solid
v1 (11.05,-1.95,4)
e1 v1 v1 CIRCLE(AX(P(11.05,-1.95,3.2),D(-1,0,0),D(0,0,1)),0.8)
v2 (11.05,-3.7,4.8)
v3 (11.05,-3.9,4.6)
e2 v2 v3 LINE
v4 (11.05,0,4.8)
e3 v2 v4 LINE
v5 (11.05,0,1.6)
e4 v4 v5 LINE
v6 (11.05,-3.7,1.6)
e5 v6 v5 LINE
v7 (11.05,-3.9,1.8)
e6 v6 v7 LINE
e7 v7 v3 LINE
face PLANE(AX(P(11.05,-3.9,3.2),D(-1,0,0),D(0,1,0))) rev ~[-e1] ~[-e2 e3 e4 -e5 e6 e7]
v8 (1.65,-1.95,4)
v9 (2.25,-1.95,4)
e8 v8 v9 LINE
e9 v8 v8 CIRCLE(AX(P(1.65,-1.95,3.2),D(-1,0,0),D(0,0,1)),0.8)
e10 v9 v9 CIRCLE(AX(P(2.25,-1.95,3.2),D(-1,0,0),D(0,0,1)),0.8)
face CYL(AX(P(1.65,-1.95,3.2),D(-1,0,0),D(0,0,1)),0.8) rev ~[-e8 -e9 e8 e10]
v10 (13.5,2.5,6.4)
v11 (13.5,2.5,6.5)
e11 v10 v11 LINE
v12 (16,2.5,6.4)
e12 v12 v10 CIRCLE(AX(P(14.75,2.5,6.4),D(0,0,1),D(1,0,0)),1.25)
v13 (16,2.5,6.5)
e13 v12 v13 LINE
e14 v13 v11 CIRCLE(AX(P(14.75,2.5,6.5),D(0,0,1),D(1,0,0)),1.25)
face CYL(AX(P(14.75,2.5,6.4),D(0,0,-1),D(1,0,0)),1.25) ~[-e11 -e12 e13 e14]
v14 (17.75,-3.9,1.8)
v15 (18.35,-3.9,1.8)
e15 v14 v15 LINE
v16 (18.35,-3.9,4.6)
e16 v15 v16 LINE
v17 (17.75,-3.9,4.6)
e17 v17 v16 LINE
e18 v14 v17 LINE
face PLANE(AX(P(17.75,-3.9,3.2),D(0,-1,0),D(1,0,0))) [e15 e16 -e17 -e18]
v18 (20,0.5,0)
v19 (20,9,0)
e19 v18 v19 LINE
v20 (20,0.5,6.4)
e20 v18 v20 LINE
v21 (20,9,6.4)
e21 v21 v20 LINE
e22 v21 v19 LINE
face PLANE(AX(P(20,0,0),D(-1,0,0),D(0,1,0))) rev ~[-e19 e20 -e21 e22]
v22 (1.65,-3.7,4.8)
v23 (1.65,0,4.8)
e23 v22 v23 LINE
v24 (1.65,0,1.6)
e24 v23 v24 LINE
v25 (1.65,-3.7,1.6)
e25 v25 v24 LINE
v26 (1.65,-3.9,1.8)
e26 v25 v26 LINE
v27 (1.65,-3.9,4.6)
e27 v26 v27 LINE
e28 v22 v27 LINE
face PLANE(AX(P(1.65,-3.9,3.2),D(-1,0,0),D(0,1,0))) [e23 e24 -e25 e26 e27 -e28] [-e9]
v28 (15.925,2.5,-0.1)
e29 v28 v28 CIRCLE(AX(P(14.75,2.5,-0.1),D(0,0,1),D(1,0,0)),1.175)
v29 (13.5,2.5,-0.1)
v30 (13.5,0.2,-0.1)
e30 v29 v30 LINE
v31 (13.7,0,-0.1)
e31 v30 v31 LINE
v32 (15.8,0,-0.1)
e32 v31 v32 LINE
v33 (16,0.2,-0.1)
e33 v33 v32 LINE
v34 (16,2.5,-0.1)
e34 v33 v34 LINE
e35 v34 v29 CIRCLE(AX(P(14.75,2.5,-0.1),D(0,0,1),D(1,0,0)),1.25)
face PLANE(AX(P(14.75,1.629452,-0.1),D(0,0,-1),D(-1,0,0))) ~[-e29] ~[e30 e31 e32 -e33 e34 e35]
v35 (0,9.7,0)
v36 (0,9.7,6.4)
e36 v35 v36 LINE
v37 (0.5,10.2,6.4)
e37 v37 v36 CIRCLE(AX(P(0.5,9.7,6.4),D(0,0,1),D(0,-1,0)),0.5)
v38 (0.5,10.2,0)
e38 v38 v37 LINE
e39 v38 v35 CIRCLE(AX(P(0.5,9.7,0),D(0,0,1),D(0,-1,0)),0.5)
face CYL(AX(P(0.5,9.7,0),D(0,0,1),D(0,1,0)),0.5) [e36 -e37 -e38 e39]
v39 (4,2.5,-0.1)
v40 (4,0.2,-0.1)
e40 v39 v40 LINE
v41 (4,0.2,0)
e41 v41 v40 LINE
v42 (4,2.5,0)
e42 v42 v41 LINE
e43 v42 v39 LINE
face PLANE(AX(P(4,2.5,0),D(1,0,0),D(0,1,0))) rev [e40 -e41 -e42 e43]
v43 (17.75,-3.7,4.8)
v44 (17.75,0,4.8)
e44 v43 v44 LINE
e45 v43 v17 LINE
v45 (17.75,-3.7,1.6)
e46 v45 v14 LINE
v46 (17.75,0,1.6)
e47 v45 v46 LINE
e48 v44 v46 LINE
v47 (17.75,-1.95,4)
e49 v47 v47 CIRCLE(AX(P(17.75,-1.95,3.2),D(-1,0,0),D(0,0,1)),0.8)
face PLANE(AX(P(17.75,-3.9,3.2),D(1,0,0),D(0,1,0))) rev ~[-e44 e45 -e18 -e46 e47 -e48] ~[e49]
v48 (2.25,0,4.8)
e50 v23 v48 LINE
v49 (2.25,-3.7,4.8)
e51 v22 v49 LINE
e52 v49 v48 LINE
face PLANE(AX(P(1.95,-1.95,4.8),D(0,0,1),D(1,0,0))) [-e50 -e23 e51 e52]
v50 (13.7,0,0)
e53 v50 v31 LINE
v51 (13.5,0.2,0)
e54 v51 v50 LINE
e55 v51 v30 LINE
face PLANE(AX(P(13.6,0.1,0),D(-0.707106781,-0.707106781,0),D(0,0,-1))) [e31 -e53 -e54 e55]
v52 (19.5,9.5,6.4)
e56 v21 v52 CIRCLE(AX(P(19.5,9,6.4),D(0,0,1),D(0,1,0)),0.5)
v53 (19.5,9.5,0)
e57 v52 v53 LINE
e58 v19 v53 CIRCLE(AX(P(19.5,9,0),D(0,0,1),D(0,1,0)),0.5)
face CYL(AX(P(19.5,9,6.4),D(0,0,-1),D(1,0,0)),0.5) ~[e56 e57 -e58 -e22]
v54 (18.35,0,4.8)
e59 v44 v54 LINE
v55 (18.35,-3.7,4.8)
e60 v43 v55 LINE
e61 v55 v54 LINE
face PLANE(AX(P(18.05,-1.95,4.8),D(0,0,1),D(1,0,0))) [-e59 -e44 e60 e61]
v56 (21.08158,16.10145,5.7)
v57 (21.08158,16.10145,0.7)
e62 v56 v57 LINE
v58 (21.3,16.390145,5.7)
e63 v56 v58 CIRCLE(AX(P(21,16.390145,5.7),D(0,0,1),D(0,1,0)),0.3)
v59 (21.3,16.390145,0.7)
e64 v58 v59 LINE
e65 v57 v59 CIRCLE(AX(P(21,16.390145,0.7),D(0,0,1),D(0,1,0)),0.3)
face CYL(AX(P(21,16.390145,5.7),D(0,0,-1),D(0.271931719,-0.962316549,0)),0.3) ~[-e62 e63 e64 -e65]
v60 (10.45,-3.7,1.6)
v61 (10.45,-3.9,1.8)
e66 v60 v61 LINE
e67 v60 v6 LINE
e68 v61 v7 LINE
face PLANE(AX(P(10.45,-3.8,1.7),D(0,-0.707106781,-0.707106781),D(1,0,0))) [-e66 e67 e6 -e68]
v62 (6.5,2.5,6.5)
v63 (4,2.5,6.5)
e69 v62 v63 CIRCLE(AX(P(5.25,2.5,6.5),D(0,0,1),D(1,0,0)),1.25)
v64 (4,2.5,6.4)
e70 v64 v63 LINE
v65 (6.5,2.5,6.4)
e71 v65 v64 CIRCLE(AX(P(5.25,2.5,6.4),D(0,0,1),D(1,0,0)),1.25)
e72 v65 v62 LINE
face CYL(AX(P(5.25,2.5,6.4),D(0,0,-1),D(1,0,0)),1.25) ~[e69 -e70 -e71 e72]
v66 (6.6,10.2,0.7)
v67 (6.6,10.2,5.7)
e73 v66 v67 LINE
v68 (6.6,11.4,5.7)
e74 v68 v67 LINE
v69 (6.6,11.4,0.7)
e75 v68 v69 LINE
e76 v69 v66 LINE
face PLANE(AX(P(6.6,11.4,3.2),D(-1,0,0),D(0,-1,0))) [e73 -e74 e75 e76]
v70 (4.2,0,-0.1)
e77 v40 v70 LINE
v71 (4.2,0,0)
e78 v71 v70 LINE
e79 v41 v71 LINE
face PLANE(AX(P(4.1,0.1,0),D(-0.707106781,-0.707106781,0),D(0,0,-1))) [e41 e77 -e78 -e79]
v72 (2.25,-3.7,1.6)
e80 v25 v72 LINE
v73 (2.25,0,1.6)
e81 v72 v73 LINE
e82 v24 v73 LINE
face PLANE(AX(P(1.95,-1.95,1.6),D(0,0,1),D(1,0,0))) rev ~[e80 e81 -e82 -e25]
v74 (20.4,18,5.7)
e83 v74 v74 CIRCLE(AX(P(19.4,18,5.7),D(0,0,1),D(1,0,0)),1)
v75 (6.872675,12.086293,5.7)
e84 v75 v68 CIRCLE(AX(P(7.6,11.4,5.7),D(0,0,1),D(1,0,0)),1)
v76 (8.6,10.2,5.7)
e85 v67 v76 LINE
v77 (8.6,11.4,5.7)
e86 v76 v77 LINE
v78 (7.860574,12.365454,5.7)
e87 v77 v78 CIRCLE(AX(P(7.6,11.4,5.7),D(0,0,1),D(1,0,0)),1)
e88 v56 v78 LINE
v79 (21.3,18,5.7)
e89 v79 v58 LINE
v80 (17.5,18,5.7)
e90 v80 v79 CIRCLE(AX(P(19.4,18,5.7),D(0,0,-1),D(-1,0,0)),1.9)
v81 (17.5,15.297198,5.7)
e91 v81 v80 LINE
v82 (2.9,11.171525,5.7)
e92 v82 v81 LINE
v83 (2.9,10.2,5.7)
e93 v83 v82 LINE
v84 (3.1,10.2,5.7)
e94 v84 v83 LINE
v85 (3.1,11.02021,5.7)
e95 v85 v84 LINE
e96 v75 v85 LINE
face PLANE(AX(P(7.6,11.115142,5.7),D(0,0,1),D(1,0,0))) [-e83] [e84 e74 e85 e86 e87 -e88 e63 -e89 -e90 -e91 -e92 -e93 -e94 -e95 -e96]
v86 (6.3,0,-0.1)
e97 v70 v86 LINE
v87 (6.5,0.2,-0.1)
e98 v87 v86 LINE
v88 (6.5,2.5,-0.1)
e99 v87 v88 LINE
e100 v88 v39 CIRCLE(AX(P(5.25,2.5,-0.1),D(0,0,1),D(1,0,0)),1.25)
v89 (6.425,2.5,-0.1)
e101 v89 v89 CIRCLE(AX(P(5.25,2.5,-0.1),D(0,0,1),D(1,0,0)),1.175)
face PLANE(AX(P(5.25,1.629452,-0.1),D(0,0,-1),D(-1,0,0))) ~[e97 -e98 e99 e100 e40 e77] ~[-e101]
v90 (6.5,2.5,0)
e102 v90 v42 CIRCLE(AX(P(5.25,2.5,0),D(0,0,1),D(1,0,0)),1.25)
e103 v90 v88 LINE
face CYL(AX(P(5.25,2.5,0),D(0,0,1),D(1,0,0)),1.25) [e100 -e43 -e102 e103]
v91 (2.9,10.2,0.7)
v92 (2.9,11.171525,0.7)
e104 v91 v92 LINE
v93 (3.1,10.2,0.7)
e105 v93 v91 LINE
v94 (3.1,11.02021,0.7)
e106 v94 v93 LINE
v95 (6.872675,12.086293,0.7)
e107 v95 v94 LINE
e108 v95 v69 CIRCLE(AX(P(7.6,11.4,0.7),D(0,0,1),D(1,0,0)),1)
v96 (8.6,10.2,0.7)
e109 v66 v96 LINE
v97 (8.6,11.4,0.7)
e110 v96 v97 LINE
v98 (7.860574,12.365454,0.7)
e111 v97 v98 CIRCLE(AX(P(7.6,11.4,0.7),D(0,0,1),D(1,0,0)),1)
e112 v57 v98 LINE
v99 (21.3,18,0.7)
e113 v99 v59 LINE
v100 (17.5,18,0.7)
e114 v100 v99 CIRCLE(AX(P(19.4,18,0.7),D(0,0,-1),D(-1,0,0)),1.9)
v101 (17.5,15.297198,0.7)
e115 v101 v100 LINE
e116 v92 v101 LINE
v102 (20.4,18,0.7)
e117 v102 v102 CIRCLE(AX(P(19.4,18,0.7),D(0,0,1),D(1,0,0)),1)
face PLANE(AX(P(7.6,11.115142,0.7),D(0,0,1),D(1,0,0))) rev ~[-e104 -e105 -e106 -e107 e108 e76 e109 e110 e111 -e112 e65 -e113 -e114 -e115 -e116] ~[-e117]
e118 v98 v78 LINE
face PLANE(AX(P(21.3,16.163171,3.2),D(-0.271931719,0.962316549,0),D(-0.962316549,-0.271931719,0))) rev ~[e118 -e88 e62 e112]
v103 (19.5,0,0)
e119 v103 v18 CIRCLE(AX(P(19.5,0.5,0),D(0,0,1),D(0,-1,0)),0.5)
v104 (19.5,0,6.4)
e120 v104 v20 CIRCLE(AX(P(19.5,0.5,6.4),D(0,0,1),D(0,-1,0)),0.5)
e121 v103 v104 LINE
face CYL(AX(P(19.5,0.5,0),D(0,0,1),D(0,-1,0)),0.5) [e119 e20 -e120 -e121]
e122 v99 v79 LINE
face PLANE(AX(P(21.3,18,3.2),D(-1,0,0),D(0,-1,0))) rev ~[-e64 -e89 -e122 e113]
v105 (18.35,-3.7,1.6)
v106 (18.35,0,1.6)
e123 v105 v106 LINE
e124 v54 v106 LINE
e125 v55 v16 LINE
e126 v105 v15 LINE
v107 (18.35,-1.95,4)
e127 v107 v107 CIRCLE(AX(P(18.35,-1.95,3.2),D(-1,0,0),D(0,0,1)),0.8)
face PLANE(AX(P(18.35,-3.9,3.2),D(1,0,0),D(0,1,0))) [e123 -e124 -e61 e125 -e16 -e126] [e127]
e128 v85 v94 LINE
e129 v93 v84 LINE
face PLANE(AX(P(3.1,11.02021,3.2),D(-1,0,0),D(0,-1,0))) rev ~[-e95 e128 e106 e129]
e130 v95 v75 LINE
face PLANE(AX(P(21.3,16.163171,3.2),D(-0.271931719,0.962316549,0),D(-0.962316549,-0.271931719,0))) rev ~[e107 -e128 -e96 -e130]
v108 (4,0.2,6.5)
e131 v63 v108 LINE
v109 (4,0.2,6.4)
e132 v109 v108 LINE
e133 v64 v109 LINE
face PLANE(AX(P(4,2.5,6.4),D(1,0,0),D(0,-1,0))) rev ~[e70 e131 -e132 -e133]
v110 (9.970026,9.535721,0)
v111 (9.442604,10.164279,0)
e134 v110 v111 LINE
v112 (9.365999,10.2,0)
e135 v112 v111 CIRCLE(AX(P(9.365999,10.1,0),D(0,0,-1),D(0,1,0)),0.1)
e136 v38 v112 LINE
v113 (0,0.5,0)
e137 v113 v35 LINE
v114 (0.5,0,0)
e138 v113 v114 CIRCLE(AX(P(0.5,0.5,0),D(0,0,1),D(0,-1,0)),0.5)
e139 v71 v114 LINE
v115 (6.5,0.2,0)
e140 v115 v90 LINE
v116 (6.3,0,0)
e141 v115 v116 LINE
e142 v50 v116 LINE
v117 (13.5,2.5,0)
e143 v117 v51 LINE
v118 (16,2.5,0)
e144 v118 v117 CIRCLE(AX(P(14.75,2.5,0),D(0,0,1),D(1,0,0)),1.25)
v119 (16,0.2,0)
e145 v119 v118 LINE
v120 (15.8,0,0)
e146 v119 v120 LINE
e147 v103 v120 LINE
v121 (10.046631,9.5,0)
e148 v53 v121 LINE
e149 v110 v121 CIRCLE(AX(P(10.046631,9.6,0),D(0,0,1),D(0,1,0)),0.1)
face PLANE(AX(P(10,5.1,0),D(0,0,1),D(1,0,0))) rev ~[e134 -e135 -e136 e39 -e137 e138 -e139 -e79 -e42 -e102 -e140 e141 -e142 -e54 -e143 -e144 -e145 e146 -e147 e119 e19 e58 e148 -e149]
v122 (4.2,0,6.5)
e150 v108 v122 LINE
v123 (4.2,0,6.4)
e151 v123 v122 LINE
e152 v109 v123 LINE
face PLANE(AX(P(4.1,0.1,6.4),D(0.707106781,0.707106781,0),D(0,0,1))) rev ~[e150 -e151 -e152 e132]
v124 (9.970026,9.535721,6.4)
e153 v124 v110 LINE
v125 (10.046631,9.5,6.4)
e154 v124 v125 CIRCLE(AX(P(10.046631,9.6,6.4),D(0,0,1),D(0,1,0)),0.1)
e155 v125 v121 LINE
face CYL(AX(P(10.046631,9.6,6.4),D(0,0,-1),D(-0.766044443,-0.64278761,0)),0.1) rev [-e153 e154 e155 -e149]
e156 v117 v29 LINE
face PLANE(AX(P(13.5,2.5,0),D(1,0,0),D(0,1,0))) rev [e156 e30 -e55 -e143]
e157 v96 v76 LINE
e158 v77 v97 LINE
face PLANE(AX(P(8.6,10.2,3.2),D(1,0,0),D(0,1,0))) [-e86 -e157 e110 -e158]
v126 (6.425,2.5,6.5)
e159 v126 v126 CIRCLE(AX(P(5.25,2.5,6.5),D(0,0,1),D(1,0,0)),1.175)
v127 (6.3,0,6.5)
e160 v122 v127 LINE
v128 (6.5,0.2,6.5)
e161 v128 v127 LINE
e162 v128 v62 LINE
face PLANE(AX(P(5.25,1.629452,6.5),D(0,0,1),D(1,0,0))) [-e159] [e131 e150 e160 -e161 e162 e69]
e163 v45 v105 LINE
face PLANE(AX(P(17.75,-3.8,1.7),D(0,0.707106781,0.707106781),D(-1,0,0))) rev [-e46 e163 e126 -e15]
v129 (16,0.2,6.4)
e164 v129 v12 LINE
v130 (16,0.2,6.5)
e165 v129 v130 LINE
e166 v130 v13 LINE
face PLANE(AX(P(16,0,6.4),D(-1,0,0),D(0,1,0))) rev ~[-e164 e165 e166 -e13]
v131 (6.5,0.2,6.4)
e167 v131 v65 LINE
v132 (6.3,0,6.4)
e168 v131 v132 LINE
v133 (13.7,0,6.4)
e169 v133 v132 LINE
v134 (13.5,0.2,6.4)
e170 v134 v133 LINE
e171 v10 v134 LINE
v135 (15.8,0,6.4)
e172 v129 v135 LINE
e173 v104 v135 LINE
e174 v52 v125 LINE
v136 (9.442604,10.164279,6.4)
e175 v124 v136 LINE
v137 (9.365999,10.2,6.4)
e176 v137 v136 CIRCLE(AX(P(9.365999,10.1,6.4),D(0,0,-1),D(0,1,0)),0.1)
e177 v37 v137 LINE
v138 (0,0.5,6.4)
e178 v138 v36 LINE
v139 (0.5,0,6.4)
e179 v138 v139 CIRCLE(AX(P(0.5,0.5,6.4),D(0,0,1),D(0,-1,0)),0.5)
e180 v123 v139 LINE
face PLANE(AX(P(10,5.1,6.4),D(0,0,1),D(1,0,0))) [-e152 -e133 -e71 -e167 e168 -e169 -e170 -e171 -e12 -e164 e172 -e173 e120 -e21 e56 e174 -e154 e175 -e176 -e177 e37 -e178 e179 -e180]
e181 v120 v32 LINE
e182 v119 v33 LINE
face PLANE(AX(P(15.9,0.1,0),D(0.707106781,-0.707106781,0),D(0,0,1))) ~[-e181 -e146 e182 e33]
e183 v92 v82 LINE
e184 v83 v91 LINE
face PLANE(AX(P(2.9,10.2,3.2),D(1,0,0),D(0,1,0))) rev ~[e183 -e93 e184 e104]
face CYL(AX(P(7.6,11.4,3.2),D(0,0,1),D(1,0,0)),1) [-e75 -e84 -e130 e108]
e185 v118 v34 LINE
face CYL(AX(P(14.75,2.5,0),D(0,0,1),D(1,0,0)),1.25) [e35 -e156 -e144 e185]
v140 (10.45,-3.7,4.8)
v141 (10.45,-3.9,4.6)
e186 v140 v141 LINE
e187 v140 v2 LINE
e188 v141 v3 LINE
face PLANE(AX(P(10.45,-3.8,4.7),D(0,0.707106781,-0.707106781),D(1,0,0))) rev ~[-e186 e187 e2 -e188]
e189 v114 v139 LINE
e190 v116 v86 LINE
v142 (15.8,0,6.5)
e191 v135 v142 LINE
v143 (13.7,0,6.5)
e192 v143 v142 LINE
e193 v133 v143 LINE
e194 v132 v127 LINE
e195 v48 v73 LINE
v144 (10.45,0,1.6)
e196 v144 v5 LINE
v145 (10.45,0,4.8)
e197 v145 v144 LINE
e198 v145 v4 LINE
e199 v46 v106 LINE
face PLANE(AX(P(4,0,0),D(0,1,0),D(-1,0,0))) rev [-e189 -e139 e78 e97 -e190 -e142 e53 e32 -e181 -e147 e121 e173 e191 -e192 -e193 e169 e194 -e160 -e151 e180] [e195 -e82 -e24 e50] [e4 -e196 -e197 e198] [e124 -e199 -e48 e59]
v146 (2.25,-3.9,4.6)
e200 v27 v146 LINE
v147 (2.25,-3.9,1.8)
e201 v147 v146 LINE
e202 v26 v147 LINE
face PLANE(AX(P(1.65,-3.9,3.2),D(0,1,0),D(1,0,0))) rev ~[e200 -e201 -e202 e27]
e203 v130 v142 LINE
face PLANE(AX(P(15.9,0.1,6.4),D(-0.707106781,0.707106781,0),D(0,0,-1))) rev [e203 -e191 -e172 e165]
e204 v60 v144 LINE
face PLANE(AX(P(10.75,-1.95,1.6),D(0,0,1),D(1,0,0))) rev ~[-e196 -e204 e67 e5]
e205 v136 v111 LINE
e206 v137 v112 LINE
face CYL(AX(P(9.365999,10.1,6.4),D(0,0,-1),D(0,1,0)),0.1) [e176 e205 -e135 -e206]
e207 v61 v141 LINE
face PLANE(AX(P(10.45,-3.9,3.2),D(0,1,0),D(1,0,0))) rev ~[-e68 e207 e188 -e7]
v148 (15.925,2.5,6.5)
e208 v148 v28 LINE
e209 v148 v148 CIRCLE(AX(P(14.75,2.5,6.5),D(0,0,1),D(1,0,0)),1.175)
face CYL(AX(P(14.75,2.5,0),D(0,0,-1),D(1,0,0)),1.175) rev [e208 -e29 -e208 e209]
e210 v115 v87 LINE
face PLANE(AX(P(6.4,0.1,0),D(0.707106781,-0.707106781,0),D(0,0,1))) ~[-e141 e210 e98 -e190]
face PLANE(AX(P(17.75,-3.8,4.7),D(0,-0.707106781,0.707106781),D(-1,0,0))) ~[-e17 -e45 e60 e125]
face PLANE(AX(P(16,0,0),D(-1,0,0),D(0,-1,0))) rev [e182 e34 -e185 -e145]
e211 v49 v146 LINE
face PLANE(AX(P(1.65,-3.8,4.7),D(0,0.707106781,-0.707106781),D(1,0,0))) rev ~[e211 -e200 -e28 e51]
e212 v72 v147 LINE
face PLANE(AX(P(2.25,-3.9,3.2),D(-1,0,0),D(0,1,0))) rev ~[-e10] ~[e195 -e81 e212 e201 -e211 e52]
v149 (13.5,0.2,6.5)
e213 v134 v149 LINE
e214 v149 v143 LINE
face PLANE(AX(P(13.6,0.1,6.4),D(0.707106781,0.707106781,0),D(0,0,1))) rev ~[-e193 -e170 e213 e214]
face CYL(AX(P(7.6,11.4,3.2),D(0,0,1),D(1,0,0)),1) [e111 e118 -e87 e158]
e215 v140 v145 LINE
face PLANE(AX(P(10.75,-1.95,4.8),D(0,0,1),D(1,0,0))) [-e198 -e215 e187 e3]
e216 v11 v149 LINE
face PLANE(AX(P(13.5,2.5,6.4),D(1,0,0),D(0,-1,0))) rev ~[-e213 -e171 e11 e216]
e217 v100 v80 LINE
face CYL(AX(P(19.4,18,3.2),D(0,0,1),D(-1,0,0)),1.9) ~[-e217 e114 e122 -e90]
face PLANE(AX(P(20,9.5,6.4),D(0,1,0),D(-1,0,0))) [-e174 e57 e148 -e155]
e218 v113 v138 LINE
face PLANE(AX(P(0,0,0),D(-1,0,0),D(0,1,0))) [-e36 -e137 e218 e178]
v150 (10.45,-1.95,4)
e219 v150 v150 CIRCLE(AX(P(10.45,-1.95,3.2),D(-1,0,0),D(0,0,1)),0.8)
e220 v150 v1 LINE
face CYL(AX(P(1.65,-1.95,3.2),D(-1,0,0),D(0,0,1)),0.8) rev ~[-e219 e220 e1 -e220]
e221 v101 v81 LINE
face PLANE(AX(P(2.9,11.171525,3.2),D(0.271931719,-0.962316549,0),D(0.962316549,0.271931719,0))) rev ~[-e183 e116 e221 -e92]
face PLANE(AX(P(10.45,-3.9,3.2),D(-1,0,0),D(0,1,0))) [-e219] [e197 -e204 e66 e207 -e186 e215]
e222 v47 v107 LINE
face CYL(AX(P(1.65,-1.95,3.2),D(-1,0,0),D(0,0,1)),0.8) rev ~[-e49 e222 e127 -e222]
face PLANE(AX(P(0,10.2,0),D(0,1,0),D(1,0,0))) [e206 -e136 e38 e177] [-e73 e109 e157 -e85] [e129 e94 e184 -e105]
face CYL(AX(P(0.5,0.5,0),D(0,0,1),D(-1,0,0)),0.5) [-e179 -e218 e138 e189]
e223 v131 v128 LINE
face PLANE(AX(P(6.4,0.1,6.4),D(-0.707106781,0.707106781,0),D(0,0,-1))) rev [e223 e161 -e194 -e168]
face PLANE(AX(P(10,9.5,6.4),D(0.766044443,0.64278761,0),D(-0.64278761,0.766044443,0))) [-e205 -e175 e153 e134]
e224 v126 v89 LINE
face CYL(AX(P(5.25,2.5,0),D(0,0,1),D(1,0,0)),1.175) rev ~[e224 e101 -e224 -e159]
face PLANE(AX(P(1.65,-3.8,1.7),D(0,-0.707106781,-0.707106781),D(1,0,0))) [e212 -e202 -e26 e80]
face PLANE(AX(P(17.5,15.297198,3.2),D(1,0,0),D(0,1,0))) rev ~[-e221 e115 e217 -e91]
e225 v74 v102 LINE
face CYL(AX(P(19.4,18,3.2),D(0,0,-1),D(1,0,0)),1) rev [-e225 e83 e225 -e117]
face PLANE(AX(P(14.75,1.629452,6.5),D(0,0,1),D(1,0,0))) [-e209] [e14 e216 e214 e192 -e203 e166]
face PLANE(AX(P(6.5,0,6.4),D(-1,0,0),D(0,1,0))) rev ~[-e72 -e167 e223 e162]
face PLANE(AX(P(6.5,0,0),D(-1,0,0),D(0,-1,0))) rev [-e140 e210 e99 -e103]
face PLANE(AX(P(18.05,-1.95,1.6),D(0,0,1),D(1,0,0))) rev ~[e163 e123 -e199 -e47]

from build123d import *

# Parameters (mm, degrees)
SKETCH_1_W               = 20
SKETCH_1_H               = 10.2
SKETCH_1_R               = 1.175
EXTRUDE_1_DEPTH          = 6.4
CUT_EXTRUDE_1_DEPTH      = 1
CUT_EXTRUDE_1_DEPTH_BACK = 7.4
FILLET_1_R               = 0.1
FILLET_2_R               = 0.5
SKETCH_8_R               = 1.175
EXTRUDE_5_DEPTH          = 0.1
CHAMFER_1_SIZE           = 0.2
SKETCH_3_W               = 0.6
SKETCH_3_H               = 3.9
EXTRUDE_2_DEPTH          = 1.6
SKETCH_9_R               = 0.8
CUT_EXTRUDE_2_DEPTH      = 19.35
CHAMFER_2_SIZE           = 0.2
SKETCH_5_R               = 1
EXTRUDE_3_DEPTH          = 2.5
EXTRUDE_6_DEPTH          = 2.5
FILLET_3_R               = 0.3


with BuildPart() as part:
    # 草图1 → 凸台-拉伸1 (new body)
    with BuildSketch(Plane.XY):
        with Locations((10, 5.1)):
            Rectangle(SKETCH_1_W, SKETCH_1_H)
        with Locations((5.25, 2.5)):
            Circle(SKETCH_1_R, mode=Mode.SUBTRACT)
        with Locations((14.75, 2.5)):
            Circle(SKETCH_1_R, mode=Mode.SUBTRACT)
    extrude(amount=EXTRUDE_1_DEPTH)

    # 草图7 → 切除-拉伸1 (cut, two sides)
    with BuildSketch(Plane.XY.offset(6.4)) as cut_extrude_1_sk:
        Polygon((20, 9.5), (10, 9.5), (9.412630258, 10.2), (20, 10.2), align=None)
    extrude(amount=CUT_EXTRUDE_1_DEPTH, mode=Mode.SUBTRACT)
    extrude(cut_extrude_1_sk.sketch, amount=-CUT_EXTRUDE_1_DEPTH_BACK, mode=Mode.SUBTRACT)

    # 圆角1
    fillet_1_edges = [part.edges().sort_by_distance(p)[0] for p in [
        (9.412630258, 10.2, 3.2),
        (10, 9.5, 3.2),
    ]]
    fillet(fillet_1_edges, radius=FILLET_1_R)

    # 圆角2
    fillet_2_edges = [part.edges().sort_by_distance(p)[0] for p in [
        (20, 9.5, 3.2),
        (0, 10.2, 3.2),
        (20, 0, 3.2),
        (0, 0, 3.2),
    ]]
    fillet(fillet_2_edges, radius=FILLET_2_R)

    # 草图8 → 凸台-拉伸5 (add)
    with BuildSketch(Plane.XY.offset(6.4)):
        with BuildLine():
            Line((4, 2.5), (4, 0))
            Line((4, 0), (6.5, 0))
            Line((6.5, 0), (6.5, 2.5))
            ThreePointArc((6.5, 2.5), (5.25, 3.75), (4, 2.5))
        make_face()
        with Locations((5.25, 2.5)):
            Circle(SKETCH_8_R, mode=Mode.SUBTRACT)
        with BuildLine():
            Line((13.5, 2.5), (13.5, 0))
            Line((13.5, 0), (16, 0))
            Line((16, 0), (16, 2.5))
            ThreePointArc((16, 2.5), (14.75, 3.75), (13.5, 2.5))
        make_face()
        with Locations((14.75, 2.5)):
            Circle(SKETCH_8_R, mode=Mode.SUBTRACT)
    extrude_5 = extrude(amount=EXTRUDE_5_DEPTH)

    # 镜向1: 凸台-拉伸5 across plane
    add(extrude_5.mirror(Plane.XY.offset(3.2)))

    # 倒角1
    chamfer_1_edges = [part.edges().sort_by_distance(p)[0] for p in [
        (6.5, 0, -0.05),
        (4, 0, -0.05),
        (16, 0, -0.05),
        (13.5, 0, -0.05),
        (4, 0, 6.45),
        (6.5, 0, 6.45),
        (13.5, 0, 6.45),
        (16, 0, 6.45),
    ]]
    chamfer(chamfer_1_edges, length=CHAMFER_1_SIZE)

    # 草图3 → 凸台-拉伸2 (add, symmetric)
    with BuildSketch(Plane.XY.offset(3.2)):
        with Locations((1.95, -1.95)):
            Rectangle(SKETCH_3_W, SKETCH_3_H)
        with Locations((10.75, -1.95)):
            Rectangle(SKETCH_3_W, SKETCH_3_H)
        with Locations((18.05, -1.95)):
            Rectangle(SKETCH_3_W, SKETCH_3_H)
    extrude(amount=EXTRUDE_2_DEPTH, both=True)

    # 草图9 → 切除-拉伸2 (cut, through all)
    with BuildSketch(Plane.ZY.offset(-1.65)):
        with Locations((3.2, -1.95)):
            Circle(SKETCH_9_R)
    extrude(amount=-CUT_EXTRUDE_2_DEPTH, mode=Mode.SUBTRACT)

    # 倒角2
    chamfer_2_edges = [part.edges().sort_by_distance(p)[0] for p in [
        (1.95, -3.9, 1.6),
        (1.95, -3.9, 4.8),
        (10.75, -3.9, 1.6),
        (10.75, -3.9, 4.8),
        (18.05, -3.9, 1.6),
        (18.05, -3.9, 4.8),
    ]]
    chamfer(chamfer_2_edges, length=CHAMFER_2_SIZE)



with BuildPart() as body_2:
    # 草图5 → 凸台-拉伸3 (new body, symmetric)
    with BuildSketch(Plane.XY.offset(3.2)):
        with BuildLine():
            Line((21.3, 18), (21.3, 16.267087306))
            Line((21.3, 16.267087306), (21.3, 16.163171396))
            Line((21.3, 16.163171396), (3.1, 11.020209549))
            Line((3.1, 11.020209549), (3.1, 10.193829773))
            Line((3.1, 10.193829773), (2.9, 10.2))
            Line((2.9, 10.2), (2.9, 11.171525305))
            Line((2.9, 11.171525305), (17.5, 15.297197995))
            Line((17.5, 15.297197995), (17.5, 18))
            ThreePointArc((17.5, 18), (19.4, 19.9), (21.3, 18))
        make_face()
        with Locations((19.4, 18)):
            Circle(SKETCH_5_R, mode=Mode.SUBTRACT)
    extrude(amount=EXTRUDE_3_DEPTH, both=True)


with BuildPart() as part_1:
    add(part.part)

    add(body_2.part)  # 凸台-拉伸6 merges body 2
    # 草图10 → 凸台-拉伸6 (add, symmetric)
    with BuildSketch(Plane.XY.offset(3.2)):
        with BuildLine():
            Line((6.6, 11.4), (6.6, 10.2))
            Line((6.6, 10.2), (8.6, 10.2))
            Line((8.6, 10.2), (8.6, 11.4))
            ThreePointArc((8.6, 11.4), (7.6, 12.4), (6.6, 11.4))
        make_face()
    extrude(amount=EXTRUDE_6_DEPTH, both=True)

    # 圆角3
    fillet_3_edges = [part_1.edges().sort_by_distance(p)[0] for p in [
        (21.3, 16.163171396, 3.2),
    ]]
    fillet(fillet_3_edges, radius=FILLET_3_R)


solid = part_1.part
